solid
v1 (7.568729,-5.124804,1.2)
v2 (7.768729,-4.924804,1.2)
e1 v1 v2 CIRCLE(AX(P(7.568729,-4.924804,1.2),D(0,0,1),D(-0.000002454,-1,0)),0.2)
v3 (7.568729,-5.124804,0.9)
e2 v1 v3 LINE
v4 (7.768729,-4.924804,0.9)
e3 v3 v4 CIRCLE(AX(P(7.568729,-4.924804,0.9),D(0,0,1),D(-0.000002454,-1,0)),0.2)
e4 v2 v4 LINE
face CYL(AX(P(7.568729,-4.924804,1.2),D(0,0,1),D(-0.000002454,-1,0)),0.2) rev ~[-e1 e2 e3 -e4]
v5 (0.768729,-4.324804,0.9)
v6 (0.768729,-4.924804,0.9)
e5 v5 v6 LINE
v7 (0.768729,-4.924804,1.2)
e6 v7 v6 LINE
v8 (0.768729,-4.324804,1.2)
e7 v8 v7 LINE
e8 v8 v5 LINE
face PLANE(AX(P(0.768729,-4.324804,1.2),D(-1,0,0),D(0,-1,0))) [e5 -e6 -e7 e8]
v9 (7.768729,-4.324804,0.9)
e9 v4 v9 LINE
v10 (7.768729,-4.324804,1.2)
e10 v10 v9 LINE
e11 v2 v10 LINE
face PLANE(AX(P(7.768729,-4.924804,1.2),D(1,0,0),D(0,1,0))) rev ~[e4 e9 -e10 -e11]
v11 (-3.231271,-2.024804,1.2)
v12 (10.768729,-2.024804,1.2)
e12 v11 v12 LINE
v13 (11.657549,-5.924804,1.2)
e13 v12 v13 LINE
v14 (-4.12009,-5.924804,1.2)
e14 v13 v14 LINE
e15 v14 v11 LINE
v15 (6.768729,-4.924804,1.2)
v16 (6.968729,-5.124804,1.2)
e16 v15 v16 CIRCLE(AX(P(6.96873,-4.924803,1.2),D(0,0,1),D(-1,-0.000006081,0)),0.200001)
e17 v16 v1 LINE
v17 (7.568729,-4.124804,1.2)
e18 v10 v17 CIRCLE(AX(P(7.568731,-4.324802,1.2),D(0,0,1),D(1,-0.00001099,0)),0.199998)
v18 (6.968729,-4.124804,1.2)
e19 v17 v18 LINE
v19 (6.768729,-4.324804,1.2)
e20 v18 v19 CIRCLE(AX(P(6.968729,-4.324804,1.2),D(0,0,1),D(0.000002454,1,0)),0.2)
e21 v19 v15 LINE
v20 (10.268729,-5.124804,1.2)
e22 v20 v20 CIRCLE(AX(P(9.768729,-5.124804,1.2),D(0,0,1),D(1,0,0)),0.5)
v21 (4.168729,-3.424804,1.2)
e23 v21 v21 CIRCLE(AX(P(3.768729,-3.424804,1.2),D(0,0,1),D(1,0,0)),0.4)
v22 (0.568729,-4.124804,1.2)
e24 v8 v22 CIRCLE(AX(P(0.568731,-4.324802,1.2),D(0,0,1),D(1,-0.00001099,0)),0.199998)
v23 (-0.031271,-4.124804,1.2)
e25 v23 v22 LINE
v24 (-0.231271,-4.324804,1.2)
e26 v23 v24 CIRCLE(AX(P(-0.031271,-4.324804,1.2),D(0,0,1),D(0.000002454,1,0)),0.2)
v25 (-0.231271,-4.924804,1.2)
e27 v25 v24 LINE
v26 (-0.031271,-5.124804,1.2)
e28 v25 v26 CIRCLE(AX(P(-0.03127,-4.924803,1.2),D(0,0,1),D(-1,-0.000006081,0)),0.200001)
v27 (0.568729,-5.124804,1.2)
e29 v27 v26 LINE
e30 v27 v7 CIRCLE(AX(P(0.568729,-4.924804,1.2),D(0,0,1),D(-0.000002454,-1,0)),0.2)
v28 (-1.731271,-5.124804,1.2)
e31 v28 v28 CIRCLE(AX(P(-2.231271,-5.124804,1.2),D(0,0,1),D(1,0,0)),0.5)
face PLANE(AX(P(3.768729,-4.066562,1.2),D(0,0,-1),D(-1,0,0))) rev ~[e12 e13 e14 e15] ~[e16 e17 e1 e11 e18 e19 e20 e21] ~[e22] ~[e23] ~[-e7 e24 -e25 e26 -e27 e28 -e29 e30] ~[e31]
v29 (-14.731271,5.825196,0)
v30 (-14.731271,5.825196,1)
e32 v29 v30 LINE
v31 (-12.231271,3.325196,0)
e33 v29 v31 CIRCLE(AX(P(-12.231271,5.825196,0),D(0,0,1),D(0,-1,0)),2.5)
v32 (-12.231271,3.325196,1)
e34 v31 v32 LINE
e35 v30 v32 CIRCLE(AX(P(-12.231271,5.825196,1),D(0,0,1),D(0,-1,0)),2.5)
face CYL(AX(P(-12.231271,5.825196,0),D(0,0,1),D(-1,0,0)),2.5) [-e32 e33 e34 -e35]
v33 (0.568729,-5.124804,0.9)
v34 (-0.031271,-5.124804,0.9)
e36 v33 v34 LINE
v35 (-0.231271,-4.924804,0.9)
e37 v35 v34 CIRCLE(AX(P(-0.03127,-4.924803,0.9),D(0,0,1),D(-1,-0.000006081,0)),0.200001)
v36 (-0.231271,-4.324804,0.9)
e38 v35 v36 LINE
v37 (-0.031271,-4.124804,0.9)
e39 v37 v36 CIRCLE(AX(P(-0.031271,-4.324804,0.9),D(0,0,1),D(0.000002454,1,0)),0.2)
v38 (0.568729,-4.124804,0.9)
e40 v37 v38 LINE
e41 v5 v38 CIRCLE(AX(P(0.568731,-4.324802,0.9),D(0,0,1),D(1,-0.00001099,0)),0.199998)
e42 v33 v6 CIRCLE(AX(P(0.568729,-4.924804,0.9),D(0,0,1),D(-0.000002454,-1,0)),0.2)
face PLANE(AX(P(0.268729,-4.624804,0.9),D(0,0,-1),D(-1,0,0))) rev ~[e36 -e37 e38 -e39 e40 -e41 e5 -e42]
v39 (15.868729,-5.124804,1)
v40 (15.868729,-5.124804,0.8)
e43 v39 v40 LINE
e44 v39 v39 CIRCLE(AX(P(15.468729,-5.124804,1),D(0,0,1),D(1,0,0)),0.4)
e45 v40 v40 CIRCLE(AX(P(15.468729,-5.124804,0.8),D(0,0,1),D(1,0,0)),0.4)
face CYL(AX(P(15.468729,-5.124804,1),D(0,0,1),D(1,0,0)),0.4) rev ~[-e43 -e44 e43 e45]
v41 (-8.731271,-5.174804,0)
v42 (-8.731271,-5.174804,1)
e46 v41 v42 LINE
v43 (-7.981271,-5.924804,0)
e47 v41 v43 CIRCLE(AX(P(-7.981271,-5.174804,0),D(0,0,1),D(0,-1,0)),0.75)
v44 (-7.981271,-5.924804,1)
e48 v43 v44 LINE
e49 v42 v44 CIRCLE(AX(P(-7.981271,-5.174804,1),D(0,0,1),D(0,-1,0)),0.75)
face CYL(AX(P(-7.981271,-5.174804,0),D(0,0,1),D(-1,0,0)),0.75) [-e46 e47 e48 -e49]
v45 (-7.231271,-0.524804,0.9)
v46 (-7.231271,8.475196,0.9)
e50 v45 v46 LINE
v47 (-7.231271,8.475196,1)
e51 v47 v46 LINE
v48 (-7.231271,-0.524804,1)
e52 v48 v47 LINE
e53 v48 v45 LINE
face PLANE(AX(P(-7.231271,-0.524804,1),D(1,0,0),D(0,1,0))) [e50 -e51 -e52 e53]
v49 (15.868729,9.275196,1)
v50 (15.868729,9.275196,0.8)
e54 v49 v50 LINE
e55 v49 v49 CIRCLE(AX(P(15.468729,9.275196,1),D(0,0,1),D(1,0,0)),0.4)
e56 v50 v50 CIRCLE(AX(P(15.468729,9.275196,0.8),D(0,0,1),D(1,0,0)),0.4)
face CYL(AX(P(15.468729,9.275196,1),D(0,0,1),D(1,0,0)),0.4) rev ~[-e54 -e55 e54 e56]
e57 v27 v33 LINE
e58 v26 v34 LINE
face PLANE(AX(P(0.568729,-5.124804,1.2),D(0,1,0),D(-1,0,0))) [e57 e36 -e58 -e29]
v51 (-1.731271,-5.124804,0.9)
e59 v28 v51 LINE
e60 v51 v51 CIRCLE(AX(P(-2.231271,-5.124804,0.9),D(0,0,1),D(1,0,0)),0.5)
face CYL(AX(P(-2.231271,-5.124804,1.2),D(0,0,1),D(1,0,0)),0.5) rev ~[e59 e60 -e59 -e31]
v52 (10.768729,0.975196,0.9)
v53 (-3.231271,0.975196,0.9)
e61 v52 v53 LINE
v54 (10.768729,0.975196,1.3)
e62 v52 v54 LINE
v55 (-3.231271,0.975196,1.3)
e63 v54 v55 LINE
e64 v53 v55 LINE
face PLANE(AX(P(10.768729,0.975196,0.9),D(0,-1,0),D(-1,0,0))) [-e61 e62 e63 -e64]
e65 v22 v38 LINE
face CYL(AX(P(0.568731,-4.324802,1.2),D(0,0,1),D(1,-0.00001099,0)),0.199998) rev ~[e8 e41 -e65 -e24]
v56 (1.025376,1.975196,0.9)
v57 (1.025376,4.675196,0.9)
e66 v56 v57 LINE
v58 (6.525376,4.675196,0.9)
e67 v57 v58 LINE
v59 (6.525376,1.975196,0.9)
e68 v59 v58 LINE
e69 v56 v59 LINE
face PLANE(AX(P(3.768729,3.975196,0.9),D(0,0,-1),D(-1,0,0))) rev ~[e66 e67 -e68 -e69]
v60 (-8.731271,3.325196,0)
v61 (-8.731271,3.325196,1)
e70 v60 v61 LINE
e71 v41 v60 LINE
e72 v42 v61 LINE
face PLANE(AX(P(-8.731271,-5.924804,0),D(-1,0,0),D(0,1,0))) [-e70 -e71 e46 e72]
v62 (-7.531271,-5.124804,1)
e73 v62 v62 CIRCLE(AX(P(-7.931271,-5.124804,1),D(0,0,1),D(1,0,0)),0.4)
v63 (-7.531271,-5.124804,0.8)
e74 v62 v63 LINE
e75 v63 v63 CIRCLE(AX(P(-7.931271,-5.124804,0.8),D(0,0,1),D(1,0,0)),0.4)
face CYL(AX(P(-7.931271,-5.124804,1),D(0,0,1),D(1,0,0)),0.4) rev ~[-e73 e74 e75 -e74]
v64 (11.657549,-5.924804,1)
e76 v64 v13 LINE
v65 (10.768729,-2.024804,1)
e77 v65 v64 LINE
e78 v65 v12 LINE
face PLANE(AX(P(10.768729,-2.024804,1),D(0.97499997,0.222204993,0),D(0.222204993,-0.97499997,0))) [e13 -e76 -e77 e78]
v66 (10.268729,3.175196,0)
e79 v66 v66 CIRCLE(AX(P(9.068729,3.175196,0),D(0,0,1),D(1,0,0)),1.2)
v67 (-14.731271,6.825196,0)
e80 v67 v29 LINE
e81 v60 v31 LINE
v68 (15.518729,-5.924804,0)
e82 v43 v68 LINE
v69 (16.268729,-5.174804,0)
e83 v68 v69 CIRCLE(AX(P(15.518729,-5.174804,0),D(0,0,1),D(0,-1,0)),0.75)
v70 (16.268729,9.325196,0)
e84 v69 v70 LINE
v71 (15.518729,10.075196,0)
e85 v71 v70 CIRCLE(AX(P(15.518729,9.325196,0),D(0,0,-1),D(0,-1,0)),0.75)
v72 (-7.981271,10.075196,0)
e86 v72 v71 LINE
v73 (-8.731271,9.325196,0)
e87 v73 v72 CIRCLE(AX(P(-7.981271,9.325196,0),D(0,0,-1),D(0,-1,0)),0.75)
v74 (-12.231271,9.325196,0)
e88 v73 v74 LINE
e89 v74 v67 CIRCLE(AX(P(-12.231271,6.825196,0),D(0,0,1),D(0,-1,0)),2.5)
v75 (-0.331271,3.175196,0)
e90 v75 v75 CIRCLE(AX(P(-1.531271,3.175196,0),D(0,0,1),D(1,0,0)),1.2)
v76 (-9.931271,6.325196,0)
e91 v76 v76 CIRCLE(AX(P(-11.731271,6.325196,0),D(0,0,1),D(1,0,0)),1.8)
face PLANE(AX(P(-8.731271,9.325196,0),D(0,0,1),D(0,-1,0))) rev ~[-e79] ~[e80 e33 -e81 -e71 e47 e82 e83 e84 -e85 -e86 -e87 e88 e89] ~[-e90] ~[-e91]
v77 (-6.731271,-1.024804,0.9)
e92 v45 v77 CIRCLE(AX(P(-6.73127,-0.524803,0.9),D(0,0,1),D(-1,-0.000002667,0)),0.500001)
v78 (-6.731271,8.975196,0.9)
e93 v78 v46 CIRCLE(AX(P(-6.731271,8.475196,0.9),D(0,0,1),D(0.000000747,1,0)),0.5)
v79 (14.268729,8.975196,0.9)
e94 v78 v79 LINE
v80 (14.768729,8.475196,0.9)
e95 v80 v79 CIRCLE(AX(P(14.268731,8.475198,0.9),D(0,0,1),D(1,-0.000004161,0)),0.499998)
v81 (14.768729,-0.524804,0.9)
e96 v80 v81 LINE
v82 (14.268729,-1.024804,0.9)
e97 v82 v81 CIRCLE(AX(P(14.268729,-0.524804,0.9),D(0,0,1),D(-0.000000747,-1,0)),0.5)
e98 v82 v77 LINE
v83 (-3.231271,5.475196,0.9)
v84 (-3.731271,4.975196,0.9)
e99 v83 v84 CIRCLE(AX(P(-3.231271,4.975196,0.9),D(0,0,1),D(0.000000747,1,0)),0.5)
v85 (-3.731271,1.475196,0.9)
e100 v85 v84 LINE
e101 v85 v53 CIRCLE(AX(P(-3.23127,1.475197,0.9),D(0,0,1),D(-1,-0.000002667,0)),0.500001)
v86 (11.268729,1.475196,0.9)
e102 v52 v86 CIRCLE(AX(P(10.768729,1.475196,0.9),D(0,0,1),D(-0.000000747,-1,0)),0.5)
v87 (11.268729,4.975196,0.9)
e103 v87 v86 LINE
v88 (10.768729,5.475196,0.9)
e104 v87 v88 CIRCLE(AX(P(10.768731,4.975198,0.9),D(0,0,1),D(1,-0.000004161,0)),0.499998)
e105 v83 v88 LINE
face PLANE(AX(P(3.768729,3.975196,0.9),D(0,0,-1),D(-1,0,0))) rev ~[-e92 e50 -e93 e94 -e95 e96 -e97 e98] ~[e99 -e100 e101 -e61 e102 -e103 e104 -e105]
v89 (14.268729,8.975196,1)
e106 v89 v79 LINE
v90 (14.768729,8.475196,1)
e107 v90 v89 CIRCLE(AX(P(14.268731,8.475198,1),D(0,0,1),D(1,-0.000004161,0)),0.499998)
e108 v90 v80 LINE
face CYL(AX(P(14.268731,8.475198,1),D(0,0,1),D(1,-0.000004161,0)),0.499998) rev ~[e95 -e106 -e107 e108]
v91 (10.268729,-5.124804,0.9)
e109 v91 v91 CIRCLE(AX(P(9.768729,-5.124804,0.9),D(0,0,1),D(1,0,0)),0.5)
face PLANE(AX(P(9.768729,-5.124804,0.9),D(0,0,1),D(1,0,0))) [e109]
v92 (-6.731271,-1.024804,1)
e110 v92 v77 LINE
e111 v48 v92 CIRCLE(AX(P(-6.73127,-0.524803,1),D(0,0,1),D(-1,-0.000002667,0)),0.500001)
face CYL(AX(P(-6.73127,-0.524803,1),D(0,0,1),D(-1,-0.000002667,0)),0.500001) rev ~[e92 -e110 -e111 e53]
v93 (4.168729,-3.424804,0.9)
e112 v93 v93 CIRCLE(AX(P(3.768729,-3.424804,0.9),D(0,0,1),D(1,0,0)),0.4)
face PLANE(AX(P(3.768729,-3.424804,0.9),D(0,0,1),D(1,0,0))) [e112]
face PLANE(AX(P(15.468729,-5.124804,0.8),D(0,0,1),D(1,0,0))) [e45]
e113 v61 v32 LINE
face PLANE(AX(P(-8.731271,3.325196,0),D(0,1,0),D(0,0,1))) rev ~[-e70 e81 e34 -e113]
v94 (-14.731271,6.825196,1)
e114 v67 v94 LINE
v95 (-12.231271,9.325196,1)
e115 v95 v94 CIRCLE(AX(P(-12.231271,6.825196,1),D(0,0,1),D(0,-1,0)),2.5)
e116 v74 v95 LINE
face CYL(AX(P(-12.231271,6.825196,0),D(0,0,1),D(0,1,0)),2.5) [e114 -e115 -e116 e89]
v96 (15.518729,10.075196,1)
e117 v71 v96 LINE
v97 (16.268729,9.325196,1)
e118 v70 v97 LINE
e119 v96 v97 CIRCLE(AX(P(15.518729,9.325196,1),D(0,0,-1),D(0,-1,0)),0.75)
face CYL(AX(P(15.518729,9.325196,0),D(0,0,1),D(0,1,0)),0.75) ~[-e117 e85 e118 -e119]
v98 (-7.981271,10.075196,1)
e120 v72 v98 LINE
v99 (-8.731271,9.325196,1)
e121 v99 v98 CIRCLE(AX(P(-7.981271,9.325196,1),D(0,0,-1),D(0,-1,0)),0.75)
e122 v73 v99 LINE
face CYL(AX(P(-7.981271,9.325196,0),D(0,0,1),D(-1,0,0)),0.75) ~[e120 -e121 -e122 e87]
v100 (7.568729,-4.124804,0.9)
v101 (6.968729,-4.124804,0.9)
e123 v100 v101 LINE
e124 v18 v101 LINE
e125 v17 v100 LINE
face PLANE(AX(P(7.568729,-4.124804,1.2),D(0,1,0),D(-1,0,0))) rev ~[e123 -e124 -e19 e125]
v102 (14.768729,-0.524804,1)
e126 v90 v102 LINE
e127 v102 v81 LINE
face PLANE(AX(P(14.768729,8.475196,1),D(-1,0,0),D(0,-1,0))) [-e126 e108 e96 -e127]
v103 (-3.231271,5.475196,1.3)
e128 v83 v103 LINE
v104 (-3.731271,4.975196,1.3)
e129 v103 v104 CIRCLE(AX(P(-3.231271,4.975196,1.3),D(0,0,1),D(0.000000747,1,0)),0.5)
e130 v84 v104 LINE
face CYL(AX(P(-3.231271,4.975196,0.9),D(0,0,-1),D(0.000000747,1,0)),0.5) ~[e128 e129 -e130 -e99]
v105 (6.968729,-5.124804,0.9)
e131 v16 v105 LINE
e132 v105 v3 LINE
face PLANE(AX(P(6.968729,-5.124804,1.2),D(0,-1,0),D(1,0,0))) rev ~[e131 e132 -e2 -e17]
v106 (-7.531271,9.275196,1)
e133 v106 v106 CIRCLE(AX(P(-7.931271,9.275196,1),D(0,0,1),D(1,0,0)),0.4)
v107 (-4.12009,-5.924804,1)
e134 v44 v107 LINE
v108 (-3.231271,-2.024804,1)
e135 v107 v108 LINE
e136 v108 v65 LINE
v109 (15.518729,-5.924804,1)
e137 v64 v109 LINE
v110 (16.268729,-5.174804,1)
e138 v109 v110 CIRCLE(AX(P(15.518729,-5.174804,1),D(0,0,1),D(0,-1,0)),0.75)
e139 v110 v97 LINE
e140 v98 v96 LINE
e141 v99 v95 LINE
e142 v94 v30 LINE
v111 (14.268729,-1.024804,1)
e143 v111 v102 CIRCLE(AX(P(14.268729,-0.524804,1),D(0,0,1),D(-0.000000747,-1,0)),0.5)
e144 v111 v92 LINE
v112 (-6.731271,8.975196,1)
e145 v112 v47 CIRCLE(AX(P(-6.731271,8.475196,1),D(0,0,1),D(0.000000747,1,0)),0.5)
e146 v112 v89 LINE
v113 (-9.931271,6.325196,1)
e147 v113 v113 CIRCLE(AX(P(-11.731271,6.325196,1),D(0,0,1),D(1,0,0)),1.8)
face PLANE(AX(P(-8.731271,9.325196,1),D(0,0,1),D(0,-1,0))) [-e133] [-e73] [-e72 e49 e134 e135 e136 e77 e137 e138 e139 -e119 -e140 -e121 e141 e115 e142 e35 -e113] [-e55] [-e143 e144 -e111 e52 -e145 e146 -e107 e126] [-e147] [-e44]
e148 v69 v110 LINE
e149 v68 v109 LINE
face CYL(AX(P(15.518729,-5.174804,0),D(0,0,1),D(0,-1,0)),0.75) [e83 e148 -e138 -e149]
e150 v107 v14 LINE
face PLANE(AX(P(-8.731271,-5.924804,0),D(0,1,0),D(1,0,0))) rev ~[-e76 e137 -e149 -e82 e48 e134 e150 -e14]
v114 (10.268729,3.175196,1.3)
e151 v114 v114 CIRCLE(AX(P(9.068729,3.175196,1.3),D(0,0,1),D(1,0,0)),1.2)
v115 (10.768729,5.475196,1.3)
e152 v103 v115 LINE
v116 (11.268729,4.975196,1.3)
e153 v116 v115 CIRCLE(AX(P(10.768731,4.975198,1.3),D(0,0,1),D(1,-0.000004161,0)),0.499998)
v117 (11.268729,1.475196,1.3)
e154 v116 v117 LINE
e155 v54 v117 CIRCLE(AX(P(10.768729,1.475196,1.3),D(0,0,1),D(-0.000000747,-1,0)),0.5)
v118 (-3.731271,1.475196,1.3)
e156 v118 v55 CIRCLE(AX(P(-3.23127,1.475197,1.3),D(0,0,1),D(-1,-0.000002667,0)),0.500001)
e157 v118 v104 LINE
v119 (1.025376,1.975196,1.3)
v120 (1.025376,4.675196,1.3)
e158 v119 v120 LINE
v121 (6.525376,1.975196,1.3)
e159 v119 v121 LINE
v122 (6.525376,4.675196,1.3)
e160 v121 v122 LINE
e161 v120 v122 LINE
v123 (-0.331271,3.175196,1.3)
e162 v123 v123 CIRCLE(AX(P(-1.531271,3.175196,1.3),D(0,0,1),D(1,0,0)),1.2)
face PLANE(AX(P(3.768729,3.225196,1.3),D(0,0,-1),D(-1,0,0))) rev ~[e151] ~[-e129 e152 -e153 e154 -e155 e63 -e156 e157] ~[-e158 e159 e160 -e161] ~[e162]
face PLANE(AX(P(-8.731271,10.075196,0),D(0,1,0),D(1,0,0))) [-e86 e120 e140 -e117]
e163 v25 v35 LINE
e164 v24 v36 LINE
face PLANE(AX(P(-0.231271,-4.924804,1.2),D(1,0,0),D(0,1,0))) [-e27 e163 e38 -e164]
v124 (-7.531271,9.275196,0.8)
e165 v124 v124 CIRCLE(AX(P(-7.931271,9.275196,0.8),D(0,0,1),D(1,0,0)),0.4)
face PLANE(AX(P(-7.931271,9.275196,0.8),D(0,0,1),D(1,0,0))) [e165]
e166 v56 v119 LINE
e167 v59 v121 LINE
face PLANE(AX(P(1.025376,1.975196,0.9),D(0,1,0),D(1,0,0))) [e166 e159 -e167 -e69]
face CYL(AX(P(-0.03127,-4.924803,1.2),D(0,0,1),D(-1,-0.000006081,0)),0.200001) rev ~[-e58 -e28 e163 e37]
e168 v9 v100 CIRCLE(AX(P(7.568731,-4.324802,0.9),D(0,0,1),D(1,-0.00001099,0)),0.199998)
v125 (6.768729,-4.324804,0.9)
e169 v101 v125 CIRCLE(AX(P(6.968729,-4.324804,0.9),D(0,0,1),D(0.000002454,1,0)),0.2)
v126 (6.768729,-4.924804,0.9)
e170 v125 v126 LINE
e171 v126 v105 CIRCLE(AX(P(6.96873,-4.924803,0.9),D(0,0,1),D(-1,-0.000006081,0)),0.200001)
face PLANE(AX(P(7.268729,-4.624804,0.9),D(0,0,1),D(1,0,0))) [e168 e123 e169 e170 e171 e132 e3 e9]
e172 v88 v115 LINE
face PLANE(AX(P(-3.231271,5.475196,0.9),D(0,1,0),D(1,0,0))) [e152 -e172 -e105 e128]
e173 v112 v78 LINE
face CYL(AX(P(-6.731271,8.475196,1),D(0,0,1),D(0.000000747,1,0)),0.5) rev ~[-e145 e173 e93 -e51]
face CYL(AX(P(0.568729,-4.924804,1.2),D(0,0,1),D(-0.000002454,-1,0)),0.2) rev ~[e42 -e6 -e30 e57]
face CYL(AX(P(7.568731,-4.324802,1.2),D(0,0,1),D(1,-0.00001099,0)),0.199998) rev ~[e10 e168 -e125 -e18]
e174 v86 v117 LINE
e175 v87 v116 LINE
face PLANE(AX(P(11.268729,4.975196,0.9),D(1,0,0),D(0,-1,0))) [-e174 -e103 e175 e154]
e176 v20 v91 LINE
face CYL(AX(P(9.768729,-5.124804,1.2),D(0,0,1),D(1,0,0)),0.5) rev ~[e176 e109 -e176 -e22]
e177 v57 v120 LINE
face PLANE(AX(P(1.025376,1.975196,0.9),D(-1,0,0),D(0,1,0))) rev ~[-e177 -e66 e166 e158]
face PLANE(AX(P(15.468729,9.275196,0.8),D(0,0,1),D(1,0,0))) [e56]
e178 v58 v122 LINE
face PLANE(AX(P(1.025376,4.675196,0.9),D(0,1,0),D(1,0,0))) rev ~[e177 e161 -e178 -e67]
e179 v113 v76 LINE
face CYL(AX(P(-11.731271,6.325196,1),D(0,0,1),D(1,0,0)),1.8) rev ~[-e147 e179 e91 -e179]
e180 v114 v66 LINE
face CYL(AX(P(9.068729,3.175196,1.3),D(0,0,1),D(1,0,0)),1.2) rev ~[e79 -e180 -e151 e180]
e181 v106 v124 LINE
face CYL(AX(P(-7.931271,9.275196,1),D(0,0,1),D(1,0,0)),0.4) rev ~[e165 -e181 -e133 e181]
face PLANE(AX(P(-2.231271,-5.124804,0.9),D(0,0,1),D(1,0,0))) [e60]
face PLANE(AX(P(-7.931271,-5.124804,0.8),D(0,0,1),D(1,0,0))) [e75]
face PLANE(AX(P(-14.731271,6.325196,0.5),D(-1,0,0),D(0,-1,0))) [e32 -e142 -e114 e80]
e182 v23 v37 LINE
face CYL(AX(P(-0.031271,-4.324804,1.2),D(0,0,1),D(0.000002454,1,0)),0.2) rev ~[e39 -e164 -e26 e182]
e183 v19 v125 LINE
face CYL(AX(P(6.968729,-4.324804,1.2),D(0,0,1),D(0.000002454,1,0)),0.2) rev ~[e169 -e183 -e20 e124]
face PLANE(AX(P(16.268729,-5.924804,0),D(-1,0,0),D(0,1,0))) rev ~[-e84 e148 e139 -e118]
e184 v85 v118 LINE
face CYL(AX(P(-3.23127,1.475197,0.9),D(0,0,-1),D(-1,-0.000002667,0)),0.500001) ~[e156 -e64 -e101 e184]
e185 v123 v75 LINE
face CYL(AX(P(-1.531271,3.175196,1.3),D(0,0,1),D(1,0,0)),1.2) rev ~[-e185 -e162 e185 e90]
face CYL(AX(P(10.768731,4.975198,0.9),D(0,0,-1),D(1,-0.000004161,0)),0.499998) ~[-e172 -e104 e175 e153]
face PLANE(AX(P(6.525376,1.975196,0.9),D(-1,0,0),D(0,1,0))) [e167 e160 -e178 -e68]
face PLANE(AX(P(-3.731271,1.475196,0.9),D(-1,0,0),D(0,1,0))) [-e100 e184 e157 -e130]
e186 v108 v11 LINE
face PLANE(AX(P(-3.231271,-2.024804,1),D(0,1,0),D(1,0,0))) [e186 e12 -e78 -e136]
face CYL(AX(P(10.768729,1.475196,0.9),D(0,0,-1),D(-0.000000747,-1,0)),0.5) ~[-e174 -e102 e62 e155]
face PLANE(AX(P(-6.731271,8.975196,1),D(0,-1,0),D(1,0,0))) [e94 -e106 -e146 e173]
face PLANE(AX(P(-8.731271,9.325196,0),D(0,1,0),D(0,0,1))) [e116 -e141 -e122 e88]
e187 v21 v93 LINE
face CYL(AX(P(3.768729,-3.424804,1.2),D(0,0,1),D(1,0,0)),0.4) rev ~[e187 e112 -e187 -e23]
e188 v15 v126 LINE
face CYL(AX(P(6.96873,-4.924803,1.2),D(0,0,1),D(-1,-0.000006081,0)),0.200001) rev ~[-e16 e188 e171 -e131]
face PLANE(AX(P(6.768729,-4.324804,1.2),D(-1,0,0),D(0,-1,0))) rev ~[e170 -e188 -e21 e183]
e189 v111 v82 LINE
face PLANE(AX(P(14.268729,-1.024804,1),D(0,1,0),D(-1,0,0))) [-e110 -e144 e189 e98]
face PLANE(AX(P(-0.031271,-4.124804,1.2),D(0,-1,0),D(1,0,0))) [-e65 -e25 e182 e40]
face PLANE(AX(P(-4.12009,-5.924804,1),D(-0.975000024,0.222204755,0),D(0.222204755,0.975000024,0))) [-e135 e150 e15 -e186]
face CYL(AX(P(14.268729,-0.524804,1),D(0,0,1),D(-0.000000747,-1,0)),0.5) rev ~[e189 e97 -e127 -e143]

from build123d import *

# Parameters (mm, degrees)
SKETCH_W        = 25
SKETCH_H        = 16
PAD_DEPTH       = 1
POCKET_DEPTH    = 0.1
FILLET_R        = 0.75
PAD001_DEPTH    = 0.2
SKETCH003_W     = 5.5
SKETCH003_H     = 2.7
PAD002_DEPTH    = 0.4
SKETCH004_R     = 1.2
POCKET001_DEPTH = 5
SKETCH005_R     = 0.4
POCKET002_DEPTH = 0.2
SKETCH006_R     = 0.4
SKETCH006_R_2   = 0.5
POCKET003_DEPTH = 0.3
SKETCH007_W     = 6
SKETCH007_H     = 1
PAD003_DEPTH    = 6
FILLET001_R     = 2.5
SKETCH008_R     = 1.8
POCKET004_DEPTH = 5


with BuildPart() as part:
    # Sketch → Pad (new body)
    with BuildSketch(Plane.XY):
        with Locations((3.768729, 2.075196)):
            Rectangle(SKETCH_W, SKETCH_H)
    extrude(amount=PAD_DEPTH)

    # Sketch001 (on Face6 of Pad) → Pocket (cut)
    with BuildSketch(Plane.XY.offset(1)):
        with BuildLine():
            Line((-6.731271, 8.975196), (14.268729, 8.975196))
            ThreePointArc((14.768729, 8.475196), (14.622283, 8.82875), (14.268729, 8.975196))
            Line((14.768729, 8.475196), (14.768729, -0.524804))
            ThreePointArc((14.268729, -1.024804), (14.622283, -0.878357), (14.768729, -0.524804))
            Line((14.268729, -1.024804), (-6.731271, -1.024804))
            ThreePointArc((-7.231271, -0.524804), (-7.084824, -0.878357), (-6.731271, -1.024804))
            Line((-7.231271, -0.524804), (-7.231271, 8.475196))
            ThreePointArc((-6.731271, 8.975196), (-7.084824, 8.82875), (-7.231271, 8.475196))
        make_face()
    extrude(amount=-POCKET_DEPTH, mode=Mode.SUBTRACT)

    # Fillet
    fillet_edges = [part.edges().sort_by_distance(p)[0] for p in [
        (-8.731271, 10.075196, 0.5),
        (-8.731271, -5.924804, 0.5),
        (16.268729, -5.924804, 0.5),
        (16.268729, 10.075196, 0.5),
    ]]
    fillet(fillet_edges, radius=FILLET_R)

    # Sketch002 (on Face5 of Fillet) → Pad001 (join)
    with BuildSketch(Plane.XY.offset(1)):
        Polygon((-4.12009, -5.924804), (-3.231271, -2.024804), (10.768729, -2.024804), (11.657549, -5.924804), align=None)
    extrude(amount=PAD001_DEPTH)

    # Sketch003 (on Face24 of Pad001) → Pad002 (join)
    with BuildSketch(Plane.XY.offset(0.9)):
        with BuildLine():
            Line((-3.231271, 5.475196), (10.768729, 5.475196))
            ThreePointArc((11.268729, 4.975196), (11.122283, 5.32875), (10.768729, 5.475196))
            Line((11.268729, 4.975196), (11.268729, 1.475196))
            ThreePointArc((10.768729, 0.975196), (11.122283, 1.121643), (11.268729, 1.475196))
            Line((10.768729, 0.975196), (-3.231271, 0.975196))
            ThreePointArc((-3.731271, 1.475196), (-3.584824, 1.121643), (-3.231271, 0.975196))
            Line((-3.731271, 1.475196), (-3.731271, 4.975196))
            ThreePointArc((-3.231271, 5.475196), (-3.584824, 5.32875), (-3.731271, 4.975196))
        make_face()
        with Locations((3.775376, 3.325196)):
            Rectangle(SKETCH003_W, SKETCH003_H, mode=Mode.SUBTRACT)
    extrude(amount=PAD002_DEPTH)

    # Sketch004 (on Face33 of Pad002) → Pocket001 (cut)
    with BuildSketch(Plane.XY.offset(1.3)):
        with Locations((-1.531271, 3.175196)):
            Circle(SKETCH004_R)
        with Locations((9.068729, 3.175196)):
            Circle(SKETCH004_R)
    extrude(amount=-POCKET001_DEPTH, mode=Mode.SUBTRACT)

    # Sketch005 (on Face5 of Pocket001) → Pocket002 (cut)
    with BuildSketch(Plane.XY.offset(1)):
        with Locations((-7.931271, 9.275196)):
            Circle(SKETCH005_R)
        with Locations((-7.931271, -5.124804)):
            Circle(SKETCH005_R)
        with Locations((15.468729, -5.124804)):
            Circle(SKETCH005_R)
        with Locations((15.468729, 9.275196)):
            Circle(SKETCH005_R)
    extrude(amount=-POCKET002_DEPTH, mode=Mode.SUBTRACT)

    # Sketch006 (on Face30 of Pocket002) → Pocket003 (cut)
    with BuildSketch(Plane.XY.offset(1.2)):
        with Locations((3.768729, -3.424804)):
            Circle(SKETCH006_R)
        with Locations((-2.231271, -5.124804)):
            Circle(SKETCH006_R_2)
        with Locations((9.768729, -5.124804)):
            Circle(SKETCH006_R_2)
        with BuildLine():
            Line((-0.031271, -4.124804), (0.568729, -4.124804))
            ThreePointArc((0.768729, -4.324804), (0.710151, -4.183382), (0.568729, -4.124804))
            Line((0.768729, -4.324804), (0.768729, -4.924804))
            ThreePointArc((0.568729, -5.124804), (0.710151, -5.066225), (0.768729, -4.924804))
            Line((0.568729, -5.124804), (-0.031271, -5.124804))
            ThreePointArc((-0.231271, -4.924804), (-0.172692, -5.066225), (-0.031271, -5.124804))
            Line((-0.231271, -4.924804), (-0.231271, -4.324804))
            ThreePointArc((-0.031271, -4.124804), (-0.172692, -4.183382), (-0.231271, -4.324804))
        make_face()
        with BuildLine():
            Line((7.568729, -4.124804), (6.968729, -4.124804))
            ThreePointArc((6.968729, -4.124804), (6.827308, -4.183382), (6.768729, -4.324804))
            Line((6.768729, -4.324804), (6.768729, -4.924804))
            ThreePointArc((6.768729, -4.924804), (6.827308, -5.066225), (6.968729, -5.124804))
            Line((6.968729, -5.124804), (7.568729, -5.124804))
            ThreePointArc((7.568729, -5.124804), (7.710151, -5.066225), (7.768729, -4.924804))
            Line((7.768729, -4.924804), (7.768729, -4.324804))
            ThreePointArc((7.768729, -4.324804), (7.710151, -4.183382), (7.568729, -4.124804))
        make_face()
    extrude(amount=-POCKET003_DEPTH, mode=Mode.SUBTRACT)

    # Sketch007 (on Face6 of Pocket003) → Pad003 (join)
    with BuildSketch(Plane(origin=(-8.731271, 0, 0), x_dir=(0, -1, 0), z_dir=(-1, 0, 0))):
        with Locations((-6.325196, 0.5)):
            Rectangle(SKETCH007_W, SKETCH007_H)
    extrude(amount=PAD003_DEPTH)

    # Fillet001
    fillet001_edges = [part.edges().sort_by_distance(p)[0] for p in [
        (-14.731271, 3.325196, 0.5),
        (-14.731271, 9.325196, 0.5),
    ]]
    fillet(fillet001_edges, radius=FILLET001_R)

    # Sketch008 (on Face8 of Fillet001) → Pocket004 (cut)
    with BuildSketch(Plane.XY.offset(1)):
        with Locations((-11.731271, 6.325196)):
            Circle(SKETCH008_R)
    extrude(amount=-POCKET004_DEPTH, mode=Mode.SUBTRACT)


solid = part.part
